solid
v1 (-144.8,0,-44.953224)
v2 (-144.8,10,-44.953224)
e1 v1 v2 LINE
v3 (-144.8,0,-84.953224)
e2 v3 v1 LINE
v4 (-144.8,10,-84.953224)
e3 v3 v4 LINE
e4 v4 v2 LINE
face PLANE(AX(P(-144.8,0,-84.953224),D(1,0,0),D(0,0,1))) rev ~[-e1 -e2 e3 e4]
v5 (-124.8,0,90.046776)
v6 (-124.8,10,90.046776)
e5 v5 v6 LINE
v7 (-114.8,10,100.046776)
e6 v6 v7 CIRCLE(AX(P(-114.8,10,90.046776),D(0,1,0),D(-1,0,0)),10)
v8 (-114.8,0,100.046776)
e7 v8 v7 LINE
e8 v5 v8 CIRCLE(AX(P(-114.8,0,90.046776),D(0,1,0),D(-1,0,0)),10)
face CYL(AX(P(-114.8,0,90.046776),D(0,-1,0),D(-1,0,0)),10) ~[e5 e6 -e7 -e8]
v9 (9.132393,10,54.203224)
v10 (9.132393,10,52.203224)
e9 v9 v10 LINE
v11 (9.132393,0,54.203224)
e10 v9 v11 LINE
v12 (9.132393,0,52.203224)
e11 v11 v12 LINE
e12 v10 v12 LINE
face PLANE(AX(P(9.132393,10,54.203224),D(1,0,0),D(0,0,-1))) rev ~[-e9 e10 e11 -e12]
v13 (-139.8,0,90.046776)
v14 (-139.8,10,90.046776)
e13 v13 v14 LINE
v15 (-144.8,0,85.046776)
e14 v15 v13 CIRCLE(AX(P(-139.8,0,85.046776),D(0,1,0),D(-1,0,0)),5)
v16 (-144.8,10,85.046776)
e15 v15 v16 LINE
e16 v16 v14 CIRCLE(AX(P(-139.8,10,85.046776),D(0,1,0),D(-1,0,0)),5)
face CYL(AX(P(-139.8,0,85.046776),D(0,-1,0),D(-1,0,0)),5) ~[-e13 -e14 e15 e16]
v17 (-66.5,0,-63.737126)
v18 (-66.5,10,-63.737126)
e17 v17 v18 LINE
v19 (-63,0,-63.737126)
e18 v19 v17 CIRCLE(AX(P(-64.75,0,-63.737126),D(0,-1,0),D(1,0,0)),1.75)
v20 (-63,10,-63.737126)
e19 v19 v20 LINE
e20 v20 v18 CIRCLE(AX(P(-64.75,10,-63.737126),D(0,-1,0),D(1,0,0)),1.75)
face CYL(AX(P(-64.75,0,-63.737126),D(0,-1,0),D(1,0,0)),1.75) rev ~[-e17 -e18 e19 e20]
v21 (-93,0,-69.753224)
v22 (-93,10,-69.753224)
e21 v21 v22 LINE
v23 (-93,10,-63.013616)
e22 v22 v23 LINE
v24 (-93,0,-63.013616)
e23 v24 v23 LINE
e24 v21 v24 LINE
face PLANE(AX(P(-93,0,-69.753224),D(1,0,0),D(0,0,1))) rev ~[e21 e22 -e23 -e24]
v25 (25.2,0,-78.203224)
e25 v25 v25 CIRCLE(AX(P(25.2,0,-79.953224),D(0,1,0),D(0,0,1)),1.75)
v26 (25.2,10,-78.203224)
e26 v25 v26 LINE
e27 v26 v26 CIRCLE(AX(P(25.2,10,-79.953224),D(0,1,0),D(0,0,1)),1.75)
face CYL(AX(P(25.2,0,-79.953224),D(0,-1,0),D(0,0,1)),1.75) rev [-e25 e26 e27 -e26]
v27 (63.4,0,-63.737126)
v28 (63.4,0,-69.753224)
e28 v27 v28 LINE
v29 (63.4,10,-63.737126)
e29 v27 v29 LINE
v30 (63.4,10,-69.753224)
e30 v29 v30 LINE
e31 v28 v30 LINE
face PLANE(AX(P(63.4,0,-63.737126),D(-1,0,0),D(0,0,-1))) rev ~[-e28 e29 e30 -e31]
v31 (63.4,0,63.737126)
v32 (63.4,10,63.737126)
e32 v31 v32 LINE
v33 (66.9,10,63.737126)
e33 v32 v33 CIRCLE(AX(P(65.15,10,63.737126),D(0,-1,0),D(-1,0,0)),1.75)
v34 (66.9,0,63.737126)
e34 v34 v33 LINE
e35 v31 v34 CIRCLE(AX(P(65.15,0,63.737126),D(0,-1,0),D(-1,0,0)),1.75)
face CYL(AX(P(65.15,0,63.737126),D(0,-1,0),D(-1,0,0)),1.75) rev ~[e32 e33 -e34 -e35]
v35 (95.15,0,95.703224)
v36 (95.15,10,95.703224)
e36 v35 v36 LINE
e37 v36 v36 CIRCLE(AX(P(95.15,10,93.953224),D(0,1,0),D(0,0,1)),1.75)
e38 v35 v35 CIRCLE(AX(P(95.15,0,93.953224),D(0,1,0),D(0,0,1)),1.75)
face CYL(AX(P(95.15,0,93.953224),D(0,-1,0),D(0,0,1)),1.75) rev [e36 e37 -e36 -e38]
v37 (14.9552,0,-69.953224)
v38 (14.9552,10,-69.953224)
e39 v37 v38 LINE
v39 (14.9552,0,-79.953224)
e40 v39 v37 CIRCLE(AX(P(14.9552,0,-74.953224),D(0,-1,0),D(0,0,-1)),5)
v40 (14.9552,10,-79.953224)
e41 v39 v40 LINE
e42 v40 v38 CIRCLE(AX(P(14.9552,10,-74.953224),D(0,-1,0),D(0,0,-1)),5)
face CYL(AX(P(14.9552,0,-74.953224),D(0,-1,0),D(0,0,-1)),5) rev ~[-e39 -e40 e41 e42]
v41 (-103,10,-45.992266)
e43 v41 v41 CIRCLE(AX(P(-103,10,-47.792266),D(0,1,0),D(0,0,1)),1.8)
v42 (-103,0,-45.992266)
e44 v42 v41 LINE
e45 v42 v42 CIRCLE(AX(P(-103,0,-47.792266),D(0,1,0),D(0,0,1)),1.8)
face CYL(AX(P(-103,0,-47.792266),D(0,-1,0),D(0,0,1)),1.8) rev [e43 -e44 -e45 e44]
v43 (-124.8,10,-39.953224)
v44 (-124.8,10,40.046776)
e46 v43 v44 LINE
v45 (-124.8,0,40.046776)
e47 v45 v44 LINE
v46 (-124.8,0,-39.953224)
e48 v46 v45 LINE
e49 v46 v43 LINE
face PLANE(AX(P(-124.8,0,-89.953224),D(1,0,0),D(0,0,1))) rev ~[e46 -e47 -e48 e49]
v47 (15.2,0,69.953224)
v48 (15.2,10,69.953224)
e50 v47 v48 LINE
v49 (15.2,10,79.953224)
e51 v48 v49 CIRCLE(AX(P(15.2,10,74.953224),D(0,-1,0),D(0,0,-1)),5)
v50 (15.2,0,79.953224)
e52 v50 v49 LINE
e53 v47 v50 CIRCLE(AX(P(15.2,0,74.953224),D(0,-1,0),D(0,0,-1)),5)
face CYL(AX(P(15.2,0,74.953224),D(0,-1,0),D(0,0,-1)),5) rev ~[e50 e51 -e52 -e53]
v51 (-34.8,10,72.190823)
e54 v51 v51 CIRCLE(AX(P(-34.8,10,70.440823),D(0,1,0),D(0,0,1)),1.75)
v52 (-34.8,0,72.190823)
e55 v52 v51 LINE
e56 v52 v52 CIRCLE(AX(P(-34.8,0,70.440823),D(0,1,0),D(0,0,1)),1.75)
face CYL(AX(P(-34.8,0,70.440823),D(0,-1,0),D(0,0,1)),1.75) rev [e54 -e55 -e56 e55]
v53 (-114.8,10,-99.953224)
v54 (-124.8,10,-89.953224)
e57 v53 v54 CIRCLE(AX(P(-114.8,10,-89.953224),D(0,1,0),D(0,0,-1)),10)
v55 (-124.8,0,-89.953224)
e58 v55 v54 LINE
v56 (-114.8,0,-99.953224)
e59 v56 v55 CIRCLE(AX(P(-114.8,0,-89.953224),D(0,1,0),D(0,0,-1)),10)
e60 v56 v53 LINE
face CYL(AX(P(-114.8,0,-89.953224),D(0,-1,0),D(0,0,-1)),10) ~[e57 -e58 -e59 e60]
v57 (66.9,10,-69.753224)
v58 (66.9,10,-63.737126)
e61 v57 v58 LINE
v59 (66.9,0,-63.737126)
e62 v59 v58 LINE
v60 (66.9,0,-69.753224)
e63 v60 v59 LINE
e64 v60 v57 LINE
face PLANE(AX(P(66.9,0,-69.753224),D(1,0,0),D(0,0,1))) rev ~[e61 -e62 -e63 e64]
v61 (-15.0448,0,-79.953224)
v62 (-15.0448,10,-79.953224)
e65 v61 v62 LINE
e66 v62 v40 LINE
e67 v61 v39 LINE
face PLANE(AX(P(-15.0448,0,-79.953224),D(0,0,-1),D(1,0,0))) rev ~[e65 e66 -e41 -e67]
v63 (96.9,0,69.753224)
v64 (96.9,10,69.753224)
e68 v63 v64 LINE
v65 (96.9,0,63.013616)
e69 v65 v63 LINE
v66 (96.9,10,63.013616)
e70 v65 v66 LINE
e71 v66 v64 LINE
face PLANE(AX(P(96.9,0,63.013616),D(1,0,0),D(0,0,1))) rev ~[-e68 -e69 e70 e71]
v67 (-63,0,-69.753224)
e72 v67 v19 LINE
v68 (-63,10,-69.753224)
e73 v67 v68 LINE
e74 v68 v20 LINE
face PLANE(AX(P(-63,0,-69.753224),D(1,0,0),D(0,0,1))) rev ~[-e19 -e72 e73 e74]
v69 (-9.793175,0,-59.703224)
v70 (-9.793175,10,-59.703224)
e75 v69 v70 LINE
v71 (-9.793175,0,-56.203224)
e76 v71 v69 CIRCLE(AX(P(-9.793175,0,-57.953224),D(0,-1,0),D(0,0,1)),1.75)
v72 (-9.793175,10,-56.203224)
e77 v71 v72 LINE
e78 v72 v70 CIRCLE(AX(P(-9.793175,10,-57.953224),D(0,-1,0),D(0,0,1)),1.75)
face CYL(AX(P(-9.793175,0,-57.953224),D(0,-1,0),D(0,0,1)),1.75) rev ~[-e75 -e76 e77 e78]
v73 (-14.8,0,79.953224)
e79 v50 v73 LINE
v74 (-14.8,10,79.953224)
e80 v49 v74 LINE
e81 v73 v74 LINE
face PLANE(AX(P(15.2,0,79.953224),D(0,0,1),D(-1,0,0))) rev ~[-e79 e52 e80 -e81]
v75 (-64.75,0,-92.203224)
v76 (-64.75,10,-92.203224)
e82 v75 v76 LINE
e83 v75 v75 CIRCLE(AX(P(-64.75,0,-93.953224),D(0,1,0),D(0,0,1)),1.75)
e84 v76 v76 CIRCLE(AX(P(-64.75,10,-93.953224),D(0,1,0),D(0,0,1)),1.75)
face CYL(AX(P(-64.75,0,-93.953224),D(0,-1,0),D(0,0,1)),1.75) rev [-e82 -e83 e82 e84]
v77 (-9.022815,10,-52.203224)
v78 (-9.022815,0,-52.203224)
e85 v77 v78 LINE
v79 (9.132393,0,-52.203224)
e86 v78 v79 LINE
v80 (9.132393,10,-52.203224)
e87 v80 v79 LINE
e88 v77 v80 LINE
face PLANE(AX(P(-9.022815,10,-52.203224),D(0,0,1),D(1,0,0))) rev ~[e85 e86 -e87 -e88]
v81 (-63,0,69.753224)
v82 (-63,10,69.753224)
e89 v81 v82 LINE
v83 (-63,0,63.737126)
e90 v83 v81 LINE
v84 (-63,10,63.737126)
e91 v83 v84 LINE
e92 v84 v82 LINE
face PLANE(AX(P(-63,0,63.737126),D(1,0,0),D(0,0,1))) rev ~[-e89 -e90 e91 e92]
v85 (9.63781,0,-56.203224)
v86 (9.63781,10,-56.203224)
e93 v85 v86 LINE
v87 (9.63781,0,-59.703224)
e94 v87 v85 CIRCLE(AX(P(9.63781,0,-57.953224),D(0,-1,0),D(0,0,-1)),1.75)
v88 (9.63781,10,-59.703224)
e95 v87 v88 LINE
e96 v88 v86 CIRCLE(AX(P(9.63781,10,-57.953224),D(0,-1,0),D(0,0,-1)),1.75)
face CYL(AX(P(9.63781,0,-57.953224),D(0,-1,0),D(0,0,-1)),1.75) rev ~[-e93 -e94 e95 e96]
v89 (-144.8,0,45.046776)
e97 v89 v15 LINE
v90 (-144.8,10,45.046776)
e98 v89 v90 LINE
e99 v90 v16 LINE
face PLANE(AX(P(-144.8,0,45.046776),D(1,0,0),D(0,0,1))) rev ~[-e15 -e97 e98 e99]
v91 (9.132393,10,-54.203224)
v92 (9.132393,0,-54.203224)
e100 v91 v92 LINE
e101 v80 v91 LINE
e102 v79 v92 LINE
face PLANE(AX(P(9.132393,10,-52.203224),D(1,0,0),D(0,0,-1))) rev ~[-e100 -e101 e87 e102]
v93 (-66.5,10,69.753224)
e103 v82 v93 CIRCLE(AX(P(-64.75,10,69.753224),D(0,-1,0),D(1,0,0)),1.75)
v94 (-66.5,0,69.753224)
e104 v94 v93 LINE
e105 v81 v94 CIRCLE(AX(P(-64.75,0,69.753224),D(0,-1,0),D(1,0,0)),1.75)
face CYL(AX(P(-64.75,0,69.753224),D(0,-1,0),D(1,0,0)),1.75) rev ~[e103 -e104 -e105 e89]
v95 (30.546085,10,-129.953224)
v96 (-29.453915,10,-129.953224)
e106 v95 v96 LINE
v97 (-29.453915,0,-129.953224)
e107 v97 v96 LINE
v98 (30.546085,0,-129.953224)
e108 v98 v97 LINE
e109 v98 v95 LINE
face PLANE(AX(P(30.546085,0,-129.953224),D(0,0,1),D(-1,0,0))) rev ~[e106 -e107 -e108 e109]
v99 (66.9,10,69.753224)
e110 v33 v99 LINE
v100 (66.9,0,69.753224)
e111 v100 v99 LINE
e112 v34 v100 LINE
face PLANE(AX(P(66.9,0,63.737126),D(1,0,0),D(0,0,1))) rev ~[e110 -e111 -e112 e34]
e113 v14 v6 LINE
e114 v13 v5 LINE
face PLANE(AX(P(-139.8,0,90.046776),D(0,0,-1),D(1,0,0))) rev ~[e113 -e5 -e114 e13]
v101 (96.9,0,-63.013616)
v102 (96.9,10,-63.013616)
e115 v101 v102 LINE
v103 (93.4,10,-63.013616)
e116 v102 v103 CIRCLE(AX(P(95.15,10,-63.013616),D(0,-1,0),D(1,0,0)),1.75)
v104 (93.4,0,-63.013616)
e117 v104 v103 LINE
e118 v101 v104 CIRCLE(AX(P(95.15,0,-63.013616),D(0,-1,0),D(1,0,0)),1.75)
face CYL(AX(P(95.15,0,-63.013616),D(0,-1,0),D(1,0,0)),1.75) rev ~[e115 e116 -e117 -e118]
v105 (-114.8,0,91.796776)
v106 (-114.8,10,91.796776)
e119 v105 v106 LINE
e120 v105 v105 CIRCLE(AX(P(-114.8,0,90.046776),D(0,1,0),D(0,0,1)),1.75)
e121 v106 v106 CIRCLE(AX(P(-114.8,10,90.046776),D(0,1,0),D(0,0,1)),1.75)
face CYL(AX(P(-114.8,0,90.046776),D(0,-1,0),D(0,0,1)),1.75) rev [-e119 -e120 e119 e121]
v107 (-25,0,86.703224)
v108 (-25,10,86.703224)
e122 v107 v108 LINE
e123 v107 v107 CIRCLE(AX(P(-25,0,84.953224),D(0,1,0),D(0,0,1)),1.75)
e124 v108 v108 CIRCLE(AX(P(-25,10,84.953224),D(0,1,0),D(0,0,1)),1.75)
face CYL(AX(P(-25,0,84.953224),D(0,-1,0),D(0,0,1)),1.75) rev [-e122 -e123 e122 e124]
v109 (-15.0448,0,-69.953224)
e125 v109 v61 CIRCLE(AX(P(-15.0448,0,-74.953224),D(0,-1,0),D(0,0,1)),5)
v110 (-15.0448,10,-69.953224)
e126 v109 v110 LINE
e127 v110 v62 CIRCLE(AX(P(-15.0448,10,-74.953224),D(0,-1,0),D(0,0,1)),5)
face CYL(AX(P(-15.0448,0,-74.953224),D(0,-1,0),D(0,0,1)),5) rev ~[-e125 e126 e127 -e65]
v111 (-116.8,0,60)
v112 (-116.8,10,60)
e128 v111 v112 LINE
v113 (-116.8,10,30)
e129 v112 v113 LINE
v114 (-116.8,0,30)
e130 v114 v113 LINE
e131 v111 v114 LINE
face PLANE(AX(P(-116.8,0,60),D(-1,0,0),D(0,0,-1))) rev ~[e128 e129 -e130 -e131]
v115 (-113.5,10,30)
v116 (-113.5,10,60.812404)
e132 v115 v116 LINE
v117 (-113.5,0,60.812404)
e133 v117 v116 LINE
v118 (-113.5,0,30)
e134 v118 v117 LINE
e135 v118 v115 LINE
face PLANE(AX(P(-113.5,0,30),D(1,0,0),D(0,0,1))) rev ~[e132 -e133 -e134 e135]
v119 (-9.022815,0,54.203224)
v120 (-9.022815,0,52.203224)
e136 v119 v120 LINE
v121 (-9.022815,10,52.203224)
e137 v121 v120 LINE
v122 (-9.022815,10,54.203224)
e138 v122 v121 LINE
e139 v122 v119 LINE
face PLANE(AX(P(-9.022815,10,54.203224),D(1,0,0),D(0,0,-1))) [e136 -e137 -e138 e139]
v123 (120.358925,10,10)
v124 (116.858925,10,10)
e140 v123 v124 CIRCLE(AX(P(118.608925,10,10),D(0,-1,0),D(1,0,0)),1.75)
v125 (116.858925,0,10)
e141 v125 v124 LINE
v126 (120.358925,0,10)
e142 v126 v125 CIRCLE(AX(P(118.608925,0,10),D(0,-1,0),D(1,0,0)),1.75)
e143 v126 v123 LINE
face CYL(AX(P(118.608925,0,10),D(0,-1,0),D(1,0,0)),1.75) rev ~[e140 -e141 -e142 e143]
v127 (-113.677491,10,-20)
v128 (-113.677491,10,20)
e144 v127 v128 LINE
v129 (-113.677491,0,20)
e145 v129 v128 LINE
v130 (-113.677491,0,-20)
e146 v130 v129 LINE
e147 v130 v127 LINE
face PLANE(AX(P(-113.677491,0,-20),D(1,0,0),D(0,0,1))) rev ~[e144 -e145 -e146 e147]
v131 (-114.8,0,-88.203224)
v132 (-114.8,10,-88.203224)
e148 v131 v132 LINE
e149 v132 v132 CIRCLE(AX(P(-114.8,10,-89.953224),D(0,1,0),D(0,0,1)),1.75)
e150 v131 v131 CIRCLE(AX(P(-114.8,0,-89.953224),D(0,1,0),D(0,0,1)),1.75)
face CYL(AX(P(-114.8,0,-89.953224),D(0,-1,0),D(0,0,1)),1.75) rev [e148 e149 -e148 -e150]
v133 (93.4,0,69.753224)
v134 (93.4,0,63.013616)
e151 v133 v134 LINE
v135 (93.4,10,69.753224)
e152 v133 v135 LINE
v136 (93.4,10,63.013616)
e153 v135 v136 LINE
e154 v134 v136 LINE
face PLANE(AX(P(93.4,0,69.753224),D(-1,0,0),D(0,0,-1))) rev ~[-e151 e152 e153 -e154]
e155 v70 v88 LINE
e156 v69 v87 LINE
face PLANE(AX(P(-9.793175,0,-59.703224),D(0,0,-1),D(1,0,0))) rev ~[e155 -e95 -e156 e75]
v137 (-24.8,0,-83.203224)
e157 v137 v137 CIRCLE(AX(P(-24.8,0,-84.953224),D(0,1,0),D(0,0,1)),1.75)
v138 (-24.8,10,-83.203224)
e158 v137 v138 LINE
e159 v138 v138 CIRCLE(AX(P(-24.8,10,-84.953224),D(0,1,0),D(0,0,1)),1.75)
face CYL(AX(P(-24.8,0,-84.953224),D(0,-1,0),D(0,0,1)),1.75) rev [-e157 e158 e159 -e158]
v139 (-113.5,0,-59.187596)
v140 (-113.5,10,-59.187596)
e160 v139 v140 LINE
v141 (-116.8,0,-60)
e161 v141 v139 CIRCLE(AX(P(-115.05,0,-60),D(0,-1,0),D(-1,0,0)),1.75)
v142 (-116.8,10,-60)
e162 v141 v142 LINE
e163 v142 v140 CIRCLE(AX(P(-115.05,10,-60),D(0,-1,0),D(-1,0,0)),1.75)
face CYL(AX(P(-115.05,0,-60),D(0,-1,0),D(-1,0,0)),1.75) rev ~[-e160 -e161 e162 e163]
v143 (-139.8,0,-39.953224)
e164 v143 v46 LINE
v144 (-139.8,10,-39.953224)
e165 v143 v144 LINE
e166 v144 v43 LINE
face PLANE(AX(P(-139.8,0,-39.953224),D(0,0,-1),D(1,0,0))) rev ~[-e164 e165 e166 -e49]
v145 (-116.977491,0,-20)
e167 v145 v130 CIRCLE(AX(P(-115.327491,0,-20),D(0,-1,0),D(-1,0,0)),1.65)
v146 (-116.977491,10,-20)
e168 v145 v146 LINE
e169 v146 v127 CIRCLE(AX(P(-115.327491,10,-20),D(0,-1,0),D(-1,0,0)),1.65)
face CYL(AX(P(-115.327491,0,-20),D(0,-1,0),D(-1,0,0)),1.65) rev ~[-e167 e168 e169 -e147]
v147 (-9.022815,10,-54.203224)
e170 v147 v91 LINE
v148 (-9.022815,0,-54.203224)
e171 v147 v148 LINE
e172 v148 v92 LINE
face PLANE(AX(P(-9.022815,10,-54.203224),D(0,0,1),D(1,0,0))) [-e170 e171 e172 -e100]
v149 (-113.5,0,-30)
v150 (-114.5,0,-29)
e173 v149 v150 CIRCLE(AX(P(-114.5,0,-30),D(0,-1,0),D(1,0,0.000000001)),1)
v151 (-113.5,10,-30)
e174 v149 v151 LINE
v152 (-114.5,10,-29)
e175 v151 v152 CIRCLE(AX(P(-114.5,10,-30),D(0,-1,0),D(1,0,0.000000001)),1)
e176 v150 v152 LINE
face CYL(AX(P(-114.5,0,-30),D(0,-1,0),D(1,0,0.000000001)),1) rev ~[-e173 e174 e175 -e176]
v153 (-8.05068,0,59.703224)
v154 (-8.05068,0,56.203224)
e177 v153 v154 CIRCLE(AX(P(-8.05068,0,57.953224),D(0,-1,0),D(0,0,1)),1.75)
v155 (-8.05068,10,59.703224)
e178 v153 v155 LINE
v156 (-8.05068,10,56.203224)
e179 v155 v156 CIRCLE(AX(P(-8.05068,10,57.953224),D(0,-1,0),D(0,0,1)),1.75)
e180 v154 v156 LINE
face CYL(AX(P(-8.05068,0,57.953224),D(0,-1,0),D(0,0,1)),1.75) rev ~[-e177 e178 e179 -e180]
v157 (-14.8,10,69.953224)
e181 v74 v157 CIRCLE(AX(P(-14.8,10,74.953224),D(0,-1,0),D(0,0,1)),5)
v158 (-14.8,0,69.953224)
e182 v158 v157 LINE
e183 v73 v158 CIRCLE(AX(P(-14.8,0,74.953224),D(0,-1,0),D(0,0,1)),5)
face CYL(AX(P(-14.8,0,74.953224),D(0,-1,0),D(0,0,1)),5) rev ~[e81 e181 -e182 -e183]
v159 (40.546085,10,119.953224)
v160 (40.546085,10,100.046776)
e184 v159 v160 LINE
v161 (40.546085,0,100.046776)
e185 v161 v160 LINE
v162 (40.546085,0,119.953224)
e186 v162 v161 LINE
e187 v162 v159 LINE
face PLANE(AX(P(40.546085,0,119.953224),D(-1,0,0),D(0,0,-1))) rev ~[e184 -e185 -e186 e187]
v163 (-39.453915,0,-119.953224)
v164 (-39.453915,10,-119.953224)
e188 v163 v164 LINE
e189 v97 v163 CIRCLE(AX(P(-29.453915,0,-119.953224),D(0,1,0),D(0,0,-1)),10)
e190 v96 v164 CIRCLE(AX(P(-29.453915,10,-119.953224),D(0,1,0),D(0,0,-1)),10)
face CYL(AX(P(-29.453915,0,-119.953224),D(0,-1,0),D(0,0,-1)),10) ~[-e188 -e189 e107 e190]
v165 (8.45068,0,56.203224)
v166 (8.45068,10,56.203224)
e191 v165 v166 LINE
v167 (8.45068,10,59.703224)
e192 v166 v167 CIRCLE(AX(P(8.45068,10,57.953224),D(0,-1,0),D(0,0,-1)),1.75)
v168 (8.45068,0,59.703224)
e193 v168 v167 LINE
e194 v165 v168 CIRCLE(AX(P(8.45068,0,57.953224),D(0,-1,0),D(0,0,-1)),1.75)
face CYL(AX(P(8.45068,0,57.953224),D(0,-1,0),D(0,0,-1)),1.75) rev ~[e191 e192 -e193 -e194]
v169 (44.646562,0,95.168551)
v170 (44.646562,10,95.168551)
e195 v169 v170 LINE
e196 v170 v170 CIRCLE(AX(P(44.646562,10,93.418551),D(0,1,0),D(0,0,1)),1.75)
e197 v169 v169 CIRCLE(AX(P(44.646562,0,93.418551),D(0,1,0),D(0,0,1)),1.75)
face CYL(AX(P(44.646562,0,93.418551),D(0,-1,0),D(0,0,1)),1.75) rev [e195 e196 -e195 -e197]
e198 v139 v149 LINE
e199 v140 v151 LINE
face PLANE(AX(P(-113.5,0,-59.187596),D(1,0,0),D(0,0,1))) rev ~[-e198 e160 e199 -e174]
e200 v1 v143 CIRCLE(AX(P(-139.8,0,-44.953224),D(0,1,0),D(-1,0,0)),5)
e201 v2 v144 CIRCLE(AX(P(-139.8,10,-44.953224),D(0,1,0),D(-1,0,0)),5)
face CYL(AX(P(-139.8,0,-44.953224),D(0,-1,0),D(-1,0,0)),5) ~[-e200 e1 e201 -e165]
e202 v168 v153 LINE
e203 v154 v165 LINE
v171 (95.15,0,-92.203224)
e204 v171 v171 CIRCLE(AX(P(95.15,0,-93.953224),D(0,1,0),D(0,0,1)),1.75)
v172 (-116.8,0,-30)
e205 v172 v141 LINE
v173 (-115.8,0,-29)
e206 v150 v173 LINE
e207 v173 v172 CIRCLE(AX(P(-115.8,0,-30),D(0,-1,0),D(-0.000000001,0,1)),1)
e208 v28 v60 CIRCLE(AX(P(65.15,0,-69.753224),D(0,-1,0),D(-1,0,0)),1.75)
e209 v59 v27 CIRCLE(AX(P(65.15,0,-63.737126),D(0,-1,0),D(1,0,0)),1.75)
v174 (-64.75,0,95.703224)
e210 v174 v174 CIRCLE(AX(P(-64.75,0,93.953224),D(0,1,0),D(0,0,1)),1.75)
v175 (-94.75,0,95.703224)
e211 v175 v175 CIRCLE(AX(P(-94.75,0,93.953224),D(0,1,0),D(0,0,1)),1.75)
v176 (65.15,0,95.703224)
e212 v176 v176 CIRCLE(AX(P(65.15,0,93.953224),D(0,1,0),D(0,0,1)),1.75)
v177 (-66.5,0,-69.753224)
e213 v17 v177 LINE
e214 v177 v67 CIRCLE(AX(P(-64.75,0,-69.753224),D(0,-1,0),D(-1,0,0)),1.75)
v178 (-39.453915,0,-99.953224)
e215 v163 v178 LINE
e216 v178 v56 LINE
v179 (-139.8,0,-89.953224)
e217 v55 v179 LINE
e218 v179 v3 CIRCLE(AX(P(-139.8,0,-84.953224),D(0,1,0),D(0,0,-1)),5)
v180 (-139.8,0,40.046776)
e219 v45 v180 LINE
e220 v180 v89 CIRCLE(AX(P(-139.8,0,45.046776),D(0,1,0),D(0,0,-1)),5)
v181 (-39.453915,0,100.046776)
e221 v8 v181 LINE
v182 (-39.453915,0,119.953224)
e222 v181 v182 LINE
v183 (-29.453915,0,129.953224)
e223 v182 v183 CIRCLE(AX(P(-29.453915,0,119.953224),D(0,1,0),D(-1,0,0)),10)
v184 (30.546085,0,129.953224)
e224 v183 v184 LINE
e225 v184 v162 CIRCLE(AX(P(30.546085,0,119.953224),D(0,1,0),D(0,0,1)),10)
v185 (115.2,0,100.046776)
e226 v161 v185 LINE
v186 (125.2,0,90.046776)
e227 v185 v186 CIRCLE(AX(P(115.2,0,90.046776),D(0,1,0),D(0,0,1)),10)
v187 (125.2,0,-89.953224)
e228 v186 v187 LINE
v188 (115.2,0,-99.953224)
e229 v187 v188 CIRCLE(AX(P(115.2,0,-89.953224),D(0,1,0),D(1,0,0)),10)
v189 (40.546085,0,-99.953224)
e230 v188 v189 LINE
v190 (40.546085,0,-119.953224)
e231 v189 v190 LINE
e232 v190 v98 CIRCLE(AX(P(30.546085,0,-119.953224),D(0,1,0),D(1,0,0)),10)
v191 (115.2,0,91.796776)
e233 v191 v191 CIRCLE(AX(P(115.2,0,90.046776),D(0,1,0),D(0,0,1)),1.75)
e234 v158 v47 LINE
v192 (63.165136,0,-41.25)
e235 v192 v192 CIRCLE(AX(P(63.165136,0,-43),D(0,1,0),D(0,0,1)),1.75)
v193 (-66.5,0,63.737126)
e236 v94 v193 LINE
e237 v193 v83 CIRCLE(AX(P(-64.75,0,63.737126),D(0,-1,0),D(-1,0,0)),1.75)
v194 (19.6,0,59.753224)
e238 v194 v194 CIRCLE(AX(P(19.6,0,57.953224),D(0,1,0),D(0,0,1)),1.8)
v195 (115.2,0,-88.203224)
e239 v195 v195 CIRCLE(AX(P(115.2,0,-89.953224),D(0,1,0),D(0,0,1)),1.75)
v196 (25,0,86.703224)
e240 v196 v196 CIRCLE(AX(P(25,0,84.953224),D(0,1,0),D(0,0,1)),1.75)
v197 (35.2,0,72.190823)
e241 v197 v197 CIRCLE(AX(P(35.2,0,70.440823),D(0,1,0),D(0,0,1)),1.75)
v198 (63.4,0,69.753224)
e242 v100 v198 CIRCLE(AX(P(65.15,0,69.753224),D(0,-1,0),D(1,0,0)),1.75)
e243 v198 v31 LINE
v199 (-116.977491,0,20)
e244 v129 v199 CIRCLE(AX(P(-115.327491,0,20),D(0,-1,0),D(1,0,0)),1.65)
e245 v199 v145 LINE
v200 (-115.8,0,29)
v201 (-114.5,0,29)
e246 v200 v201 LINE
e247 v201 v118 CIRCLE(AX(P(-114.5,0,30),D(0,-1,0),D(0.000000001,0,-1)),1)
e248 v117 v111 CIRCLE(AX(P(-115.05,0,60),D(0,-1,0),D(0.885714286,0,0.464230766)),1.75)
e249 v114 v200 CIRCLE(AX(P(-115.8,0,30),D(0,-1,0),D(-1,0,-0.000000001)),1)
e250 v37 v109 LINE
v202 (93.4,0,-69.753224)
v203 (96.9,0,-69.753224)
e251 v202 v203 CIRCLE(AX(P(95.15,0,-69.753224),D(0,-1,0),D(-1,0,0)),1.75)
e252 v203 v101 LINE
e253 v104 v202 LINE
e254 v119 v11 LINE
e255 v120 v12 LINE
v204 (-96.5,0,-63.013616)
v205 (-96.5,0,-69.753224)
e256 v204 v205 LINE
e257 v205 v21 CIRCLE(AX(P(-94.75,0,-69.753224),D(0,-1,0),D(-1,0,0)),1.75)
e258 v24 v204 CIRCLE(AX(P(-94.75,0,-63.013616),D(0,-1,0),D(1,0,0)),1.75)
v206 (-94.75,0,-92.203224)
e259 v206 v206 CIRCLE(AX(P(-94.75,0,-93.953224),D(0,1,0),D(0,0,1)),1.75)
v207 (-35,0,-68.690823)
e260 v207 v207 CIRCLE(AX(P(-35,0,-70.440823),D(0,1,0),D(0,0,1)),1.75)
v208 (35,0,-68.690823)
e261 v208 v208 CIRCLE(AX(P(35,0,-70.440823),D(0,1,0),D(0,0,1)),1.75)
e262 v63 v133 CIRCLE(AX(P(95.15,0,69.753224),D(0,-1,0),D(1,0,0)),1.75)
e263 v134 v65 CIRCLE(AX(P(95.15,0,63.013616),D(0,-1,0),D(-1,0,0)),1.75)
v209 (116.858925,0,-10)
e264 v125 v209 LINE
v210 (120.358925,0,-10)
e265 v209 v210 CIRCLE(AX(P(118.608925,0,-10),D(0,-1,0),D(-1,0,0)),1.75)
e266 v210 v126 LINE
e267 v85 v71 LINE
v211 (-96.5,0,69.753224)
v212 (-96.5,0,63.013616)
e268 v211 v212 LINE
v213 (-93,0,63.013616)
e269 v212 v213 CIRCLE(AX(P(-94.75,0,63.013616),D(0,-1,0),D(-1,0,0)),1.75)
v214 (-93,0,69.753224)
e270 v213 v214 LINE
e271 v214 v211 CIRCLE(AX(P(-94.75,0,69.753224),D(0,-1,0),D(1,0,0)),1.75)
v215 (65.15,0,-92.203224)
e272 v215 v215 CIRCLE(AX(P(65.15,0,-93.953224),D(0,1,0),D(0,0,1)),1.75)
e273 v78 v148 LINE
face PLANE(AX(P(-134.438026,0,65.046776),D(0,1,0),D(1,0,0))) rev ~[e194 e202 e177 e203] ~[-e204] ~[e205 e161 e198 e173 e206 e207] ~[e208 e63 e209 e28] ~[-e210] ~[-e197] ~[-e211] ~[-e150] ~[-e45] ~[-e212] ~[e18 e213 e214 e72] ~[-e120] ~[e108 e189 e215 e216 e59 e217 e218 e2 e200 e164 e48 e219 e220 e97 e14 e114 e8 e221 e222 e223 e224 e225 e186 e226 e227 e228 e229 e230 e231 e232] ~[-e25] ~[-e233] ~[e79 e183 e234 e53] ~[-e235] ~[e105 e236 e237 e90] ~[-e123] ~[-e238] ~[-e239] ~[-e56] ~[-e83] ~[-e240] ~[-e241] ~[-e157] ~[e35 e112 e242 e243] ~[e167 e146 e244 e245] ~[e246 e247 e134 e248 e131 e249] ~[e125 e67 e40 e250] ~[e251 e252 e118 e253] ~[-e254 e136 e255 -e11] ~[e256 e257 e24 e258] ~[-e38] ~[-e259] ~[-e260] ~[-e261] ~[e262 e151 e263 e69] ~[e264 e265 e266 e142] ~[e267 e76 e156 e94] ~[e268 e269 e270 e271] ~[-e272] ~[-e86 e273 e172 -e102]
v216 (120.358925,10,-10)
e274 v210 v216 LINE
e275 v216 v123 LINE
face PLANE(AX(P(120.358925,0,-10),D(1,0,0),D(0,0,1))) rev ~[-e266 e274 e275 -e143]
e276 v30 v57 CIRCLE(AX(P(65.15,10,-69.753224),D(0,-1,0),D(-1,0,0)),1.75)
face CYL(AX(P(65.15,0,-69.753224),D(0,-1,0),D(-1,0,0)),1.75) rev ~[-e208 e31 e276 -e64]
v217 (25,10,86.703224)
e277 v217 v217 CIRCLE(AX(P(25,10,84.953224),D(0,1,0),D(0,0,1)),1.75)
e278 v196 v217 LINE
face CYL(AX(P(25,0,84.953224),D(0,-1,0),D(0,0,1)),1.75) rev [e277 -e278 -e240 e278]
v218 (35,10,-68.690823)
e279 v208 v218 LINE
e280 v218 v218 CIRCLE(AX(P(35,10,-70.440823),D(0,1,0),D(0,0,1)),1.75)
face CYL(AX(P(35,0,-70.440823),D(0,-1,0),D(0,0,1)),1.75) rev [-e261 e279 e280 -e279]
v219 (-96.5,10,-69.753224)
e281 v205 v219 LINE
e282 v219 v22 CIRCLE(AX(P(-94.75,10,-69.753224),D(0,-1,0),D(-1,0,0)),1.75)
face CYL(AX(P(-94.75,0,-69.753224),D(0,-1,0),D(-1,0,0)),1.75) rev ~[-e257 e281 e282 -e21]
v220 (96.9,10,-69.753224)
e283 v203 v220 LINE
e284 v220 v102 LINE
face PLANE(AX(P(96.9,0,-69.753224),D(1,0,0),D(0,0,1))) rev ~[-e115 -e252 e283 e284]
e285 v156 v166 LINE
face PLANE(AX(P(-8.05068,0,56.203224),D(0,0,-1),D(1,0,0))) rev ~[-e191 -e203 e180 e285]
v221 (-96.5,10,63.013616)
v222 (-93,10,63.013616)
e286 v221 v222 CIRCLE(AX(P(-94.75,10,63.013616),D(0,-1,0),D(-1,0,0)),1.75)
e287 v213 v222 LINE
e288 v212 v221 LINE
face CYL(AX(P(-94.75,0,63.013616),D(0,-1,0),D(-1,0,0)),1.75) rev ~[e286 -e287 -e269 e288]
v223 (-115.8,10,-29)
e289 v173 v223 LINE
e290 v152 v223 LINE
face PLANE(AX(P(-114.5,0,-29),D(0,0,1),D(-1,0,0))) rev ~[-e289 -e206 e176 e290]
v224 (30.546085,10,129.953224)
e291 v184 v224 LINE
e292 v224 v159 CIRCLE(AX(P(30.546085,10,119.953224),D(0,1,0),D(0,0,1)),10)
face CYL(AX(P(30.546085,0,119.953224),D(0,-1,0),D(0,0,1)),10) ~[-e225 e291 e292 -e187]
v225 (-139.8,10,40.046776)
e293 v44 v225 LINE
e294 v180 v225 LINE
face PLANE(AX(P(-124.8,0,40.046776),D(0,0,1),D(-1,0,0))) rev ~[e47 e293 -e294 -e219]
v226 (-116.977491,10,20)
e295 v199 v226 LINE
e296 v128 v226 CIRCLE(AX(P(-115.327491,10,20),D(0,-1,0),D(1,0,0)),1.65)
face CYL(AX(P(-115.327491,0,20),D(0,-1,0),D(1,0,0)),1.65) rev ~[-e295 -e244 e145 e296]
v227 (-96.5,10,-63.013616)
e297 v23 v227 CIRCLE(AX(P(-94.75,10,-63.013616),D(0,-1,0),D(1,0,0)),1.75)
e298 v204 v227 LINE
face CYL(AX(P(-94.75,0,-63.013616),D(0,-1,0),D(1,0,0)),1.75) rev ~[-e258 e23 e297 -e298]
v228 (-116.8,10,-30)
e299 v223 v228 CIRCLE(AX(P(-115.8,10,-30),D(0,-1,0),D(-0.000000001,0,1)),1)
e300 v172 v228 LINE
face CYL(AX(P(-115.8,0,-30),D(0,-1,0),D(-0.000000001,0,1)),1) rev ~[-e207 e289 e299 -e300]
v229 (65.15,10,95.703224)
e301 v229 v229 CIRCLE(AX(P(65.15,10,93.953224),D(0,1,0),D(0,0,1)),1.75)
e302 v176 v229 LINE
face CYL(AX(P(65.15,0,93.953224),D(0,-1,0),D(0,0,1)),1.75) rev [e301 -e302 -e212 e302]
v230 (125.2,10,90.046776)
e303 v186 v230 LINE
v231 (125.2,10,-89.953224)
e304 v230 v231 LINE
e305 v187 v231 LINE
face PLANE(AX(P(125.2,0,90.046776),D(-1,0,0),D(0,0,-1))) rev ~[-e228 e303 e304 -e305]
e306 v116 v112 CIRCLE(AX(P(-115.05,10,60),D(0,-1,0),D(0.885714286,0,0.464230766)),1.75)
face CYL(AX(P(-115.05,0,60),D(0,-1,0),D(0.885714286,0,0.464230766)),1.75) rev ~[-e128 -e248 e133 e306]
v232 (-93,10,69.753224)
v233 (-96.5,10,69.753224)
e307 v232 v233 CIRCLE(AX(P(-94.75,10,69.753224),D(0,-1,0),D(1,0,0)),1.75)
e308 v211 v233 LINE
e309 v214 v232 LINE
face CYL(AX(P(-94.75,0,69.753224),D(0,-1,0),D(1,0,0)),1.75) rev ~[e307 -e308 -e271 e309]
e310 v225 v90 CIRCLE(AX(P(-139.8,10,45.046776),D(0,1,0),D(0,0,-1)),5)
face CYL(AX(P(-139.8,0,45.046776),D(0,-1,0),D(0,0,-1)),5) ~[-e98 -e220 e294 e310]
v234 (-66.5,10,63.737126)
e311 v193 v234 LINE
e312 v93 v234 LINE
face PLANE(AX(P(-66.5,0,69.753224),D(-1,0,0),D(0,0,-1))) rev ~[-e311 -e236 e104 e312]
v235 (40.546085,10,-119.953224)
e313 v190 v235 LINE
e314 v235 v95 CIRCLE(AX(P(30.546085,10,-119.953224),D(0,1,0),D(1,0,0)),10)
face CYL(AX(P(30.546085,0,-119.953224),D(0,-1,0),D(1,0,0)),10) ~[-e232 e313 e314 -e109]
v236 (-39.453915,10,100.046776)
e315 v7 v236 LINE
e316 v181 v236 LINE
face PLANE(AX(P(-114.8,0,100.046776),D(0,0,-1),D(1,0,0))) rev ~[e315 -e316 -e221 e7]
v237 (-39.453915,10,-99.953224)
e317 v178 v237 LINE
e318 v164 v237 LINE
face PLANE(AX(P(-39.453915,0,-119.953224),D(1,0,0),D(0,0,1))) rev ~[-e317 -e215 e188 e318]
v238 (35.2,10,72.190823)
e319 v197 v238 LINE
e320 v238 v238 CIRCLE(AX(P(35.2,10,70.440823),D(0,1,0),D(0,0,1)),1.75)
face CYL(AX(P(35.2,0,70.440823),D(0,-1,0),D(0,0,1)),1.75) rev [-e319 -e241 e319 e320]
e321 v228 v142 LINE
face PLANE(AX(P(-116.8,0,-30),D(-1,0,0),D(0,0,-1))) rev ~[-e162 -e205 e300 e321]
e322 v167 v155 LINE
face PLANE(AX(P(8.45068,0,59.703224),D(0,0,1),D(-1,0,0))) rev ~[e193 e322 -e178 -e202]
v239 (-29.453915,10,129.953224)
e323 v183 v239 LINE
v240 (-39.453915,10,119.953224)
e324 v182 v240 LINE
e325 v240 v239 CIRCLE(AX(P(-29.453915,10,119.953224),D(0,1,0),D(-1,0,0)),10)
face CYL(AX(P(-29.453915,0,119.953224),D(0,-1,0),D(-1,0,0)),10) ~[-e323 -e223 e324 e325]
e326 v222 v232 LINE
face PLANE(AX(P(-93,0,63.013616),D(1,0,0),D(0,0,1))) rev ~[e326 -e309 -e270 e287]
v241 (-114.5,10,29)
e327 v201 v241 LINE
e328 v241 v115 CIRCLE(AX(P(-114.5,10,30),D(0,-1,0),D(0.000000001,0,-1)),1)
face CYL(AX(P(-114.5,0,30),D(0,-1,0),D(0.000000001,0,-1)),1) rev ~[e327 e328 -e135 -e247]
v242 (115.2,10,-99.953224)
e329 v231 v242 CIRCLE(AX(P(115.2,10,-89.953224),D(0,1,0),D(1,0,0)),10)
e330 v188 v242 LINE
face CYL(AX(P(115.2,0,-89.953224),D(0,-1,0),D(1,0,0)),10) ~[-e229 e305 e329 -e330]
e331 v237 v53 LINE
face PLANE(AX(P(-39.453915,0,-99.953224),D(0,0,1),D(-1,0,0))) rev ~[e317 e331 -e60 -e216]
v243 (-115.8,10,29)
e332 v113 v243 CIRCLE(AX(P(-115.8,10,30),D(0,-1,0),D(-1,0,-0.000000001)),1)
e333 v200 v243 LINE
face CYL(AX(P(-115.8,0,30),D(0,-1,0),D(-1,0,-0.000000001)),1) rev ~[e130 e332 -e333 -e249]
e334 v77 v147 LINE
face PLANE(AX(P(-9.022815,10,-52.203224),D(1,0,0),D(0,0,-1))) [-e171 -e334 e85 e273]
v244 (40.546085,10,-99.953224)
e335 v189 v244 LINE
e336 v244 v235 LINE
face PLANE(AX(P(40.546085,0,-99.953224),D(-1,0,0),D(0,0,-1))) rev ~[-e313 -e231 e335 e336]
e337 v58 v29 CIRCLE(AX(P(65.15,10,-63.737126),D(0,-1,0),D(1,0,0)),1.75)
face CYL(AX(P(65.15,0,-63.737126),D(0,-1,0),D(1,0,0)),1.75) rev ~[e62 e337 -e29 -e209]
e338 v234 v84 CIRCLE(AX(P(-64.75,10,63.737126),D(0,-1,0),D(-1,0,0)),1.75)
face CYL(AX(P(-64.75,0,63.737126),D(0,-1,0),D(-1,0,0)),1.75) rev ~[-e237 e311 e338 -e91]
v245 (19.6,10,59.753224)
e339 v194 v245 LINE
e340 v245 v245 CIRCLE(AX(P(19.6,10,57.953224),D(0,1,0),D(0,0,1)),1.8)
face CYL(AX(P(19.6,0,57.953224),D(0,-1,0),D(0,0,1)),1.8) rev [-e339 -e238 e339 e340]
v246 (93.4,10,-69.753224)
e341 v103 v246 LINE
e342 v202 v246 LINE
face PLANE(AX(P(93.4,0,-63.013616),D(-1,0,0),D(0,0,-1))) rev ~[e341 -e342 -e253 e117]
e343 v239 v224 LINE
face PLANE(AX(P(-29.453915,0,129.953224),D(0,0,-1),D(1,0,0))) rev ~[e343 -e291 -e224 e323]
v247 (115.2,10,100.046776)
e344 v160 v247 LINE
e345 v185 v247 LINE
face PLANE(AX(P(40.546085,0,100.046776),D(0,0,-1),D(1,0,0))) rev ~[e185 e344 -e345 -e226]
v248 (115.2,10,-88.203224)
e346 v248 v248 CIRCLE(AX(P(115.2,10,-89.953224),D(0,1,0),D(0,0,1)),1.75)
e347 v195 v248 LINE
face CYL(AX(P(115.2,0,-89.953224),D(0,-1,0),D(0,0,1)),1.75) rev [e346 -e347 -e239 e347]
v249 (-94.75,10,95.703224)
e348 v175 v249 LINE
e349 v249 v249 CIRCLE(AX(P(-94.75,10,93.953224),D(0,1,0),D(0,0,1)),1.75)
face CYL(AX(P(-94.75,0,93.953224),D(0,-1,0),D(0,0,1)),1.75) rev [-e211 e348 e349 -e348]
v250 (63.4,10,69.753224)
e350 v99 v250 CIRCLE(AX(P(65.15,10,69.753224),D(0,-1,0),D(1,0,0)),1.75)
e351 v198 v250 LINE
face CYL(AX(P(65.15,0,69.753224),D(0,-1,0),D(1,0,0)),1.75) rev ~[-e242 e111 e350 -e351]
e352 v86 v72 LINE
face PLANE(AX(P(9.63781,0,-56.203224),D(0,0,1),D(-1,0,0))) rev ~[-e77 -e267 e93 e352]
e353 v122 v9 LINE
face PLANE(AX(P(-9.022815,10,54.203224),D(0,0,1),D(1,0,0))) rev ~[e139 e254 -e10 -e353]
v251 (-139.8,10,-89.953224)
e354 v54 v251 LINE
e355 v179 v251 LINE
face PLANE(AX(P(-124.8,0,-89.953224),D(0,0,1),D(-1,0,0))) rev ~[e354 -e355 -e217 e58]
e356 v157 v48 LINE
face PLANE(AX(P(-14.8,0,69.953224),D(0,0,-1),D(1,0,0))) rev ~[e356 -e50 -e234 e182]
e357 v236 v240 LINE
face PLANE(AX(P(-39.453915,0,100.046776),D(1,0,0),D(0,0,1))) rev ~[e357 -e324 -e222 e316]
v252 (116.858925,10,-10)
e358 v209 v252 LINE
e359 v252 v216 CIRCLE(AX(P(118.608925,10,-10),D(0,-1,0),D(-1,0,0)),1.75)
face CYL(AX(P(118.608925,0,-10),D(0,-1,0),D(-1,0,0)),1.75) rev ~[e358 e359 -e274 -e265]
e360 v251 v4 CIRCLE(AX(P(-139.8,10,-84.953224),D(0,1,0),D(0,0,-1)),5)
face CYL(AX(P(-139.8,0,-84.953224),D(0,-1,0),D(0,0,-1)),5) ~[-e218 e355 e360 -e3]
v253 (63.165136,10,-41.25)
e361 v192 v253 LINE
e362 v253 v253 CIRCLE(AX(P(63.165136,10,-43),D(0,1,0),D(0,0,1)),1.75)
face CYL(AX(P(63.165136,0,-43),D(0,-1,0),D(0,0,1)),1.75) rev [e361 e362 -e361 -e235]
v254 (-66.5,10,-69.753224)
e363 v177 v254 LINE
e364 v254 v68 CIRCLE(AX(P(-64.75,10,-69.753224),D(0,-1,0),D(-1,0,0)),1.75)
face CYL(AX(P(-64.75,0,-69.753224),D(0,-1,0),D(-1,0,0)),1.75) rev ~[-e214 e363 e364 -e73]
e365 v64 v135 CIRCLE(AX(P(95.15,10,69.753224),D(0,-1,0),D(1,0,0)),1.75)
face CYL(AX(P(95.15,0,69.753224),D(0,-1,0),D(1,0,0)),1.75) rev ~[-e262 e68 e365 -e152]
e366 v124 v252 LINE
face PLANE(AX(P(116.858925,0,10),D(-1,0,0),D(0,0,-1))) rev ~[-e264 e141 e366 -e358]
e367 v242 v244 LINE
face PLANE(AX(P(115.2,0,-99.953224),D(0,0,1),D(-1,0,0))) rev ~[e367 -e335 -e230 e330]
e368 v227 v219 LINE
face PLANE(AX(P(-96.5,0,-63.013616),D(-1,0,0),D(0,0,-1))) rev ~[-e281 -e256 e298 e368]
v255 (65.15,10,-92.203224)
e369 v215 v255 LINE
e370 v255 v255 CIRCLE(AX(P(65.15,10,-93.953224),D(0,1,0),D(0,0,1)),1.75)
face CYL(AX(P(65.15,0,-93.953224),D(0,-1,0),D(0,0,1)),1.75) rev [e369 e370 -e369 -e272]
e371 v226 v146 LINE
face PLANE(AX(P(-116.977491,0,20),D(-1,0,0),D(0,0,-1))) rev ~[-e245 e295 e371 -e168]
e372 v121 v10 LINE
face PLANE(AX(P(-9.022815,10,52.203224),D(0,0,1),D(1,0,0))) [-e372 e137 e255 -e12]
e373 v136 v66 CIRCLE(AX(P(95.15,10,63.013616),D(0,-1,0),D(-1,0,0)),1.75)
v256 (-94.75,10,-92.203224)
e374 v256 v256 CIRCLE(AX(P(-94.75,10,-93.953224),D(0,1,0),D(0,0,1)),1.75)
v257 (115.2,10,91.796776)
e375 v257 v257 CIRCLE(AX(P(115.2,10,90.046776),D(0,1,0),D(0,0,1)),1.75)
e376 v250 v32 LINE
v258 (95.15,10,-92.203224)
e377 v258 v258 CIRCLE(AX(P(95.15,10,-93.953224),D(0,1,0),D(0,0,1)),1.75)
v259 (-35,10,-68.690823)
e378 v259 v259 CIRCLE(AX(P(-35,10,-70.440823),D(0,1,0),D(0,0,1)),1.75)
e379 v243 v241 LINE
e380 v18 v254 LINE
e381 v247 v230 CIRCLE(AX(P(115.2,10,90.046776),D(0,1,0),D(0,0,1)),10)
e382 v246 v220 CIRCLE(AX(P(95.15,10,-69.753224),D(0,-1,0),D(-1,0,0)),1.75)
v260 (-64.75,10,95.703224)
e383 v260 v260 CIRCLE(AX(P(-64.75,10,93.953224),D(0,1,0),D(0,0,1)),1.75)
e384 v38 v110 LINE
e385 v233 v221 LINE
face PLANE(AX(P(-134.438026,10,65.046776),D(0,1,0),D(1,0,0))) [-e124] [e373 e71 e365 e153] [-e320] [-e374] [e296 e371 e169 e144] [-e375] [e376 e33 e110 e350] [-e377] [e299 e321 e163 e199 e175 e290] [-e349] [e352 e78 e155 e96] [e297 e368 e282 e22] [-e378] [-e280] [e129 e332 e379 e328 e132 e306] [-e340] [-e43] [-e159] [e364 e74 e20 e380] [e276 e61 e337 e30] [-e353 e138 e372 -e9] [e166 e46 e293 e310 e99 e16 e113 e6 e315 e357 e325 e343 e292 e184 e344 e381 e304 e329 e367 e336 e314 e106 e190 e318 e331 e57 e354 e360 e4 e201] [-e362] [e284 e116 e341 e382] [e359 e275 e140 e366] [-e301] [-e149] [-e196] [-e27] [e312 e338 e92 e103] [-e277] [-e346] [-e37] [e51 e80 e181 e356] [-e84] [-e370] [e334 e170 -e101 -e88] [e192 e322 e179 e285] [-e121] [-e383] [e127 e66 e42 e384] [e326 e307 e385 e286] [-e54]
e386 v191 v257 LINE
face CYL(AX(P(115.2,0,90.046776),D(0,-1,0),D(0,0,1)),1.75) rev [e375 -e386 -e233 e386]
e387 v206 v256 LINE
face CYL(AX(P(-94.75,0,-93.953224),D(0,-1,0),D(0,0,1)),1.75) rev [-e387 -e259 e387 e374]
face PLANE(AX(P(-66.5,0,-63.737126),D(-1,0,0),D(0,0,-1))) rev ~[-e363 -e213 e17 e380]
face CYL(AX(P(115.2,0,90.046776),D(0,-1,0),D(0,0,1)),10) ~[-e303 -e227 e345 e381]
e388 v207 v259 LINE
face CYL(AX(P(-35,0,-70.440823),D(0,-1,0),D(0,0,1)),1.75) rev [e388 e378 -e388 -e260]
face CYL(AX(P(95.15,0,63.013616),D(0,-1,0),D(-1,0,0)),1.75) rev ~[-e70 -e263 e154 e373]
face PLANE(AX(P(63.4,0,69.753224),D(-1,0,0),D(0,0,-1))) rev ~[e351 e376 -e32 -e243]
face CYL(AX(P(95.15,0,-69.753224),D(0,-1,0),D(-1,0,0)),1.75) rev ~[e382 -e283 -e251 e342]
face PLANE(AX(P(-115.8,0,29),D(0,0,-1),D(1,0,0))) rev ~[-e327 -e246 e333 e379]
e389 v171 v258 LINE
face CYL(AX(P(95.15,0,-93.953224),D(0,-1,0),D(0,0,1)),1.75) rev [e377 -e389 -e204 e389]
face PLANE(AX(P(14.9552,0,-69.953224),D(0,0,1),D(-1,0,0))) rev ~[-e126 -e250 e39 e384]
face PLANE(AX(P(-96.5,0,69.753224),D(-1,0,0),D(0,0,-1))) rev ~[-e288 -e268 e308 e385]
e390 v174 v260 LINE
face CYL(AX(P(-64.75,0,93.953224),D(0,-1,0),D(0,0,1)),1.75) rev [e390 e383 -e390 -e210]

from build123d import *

# Parameters (mm, degrees)
SKETCH_1_R          = 1.75
SKETCH_1_R_2        = 1.8
EXTRUDE_1_DEPTH     = 10
SKETCH_2_W          = 18.155207679
SKETCH_2_H          = 2
CUT_EXTRUDE_1_DEPTH = 10


with BuildPart() as part:
    # 草图1 → 凸台-拉伸1 (new body)
    # profile 1 of 3: a face of its own
    with BuildSketch(Plane(origin=(0, 0, 0), x_dir=(1, 0, 0), z_dir=(0, 1, 0))):
        with BuildLine():
            Line((-39.453914906, 99.953224422), (-114.8, 99.953224422))
            ThreePointArc((-114.8, 99.953224422), (-121.871067812, 97.024292234), (-124.8, 89.953224422))
            Line((-124.8, 89.953224422), (-124.8, 39.953224422))
            Line((-124.8, 39.953224422), (-124.8, -40.046775578))
            Line((-124.8, -40.046775578), (-124.8, -90.046775578))
            ThreePointArc((-124.8, -90.046775578), (-121.871067812, -97.11784339), (-114.8, -100.046775578))
            Line((-114.8, -100.046775578), (-39.453914906, -100.046775578))
            Line((-39.453914906, -100.046775578), (-39.453914906, -119.953224422))
            ThreePointArc((-39.453914906, -119.953224422), (-36.524982718, -127.024292234), (-29.453914906, -129.953224422))
            Line((-29.453914906, -129.953224422), (30.546085094, -129.953224422))
            ThreePointArc((30.546085094, -129.953224422), (37.617152905, -127.024292234), (40.546085094, -119.953224422))
            Line((40.546085094, -119.953224422), (40.546085094, -100.046775578))
            Line((40.546085094, -100.046775578), (115.2, -100.046775578))
            ThreePointArc((115.2, -100.046775578), (122.271067812, -97.11784339), (125.2, -90.046775578))
            Line((125.2, -90.046775578), (125.2, 89.953224422))
            ThreePointArc((125.2, 89.953224422), (122.271067812, 97.024292234), (115.2, 99.953224422))
            Line((115.2, 99.953224422), (40.546085094, 99.953224422))
            Line((40.546085094, 99.953224422), (40.546085094, 119.953224422))
            ThreePointArc((40.546085094, 119.953224422), (37.617152905, 127.024292234), (30.546085094, 129.953224422))
            Line((30.546085094, 129.953224422), (-29.453914906, 129.953224422))
            ThreePointArc((-29.453914906, 129.953224422), (-36.524982718, 127.024292234), (-39.453914906, 119.953224422))
            Line((-39.453914906, 119.953224422), (-39.453914906, 99.953224422))
        make_face()
        with Locations(Location((-114.8, -90.046775578, 0), (0, 0, 270))):
            Circle(SKETCH_1_R, mode=Mode.SUBTRACT)
        with Locations(Location((-94.75, -93.953224422, 0), (0, 0, 270))):
            Circle(SKETCH_1_R, mode=Mode.SUBTRACT)
        with BuildLine():
            Line((-93, -63.013616334), (-93, -69.753224422))
            ThreePointArc((-93, -69.753224422), (-94.75, -71.503224422), (-96.5, -69.753224422))
            Line((-96.5, -69.753224422), (-96.5, -63.013616334))
            ThreePointArc((-96.5, -63.013616334), (-94.75, -61.263616334), (-93, -63.013616334))
        make_face(mode=Mode.SUBTRACT)
        with Locations(Location((-64.75, -93.953224422, 0), (0, 0, 270))):
            Circle(SKETCH_1_R, mode=Mode.SUBTRACT)
        with BuildLine():
            Line((-63, -63.73712587), (-63, -69.753224422))
            ThreePointArc((-63, -69.753224422), (-64.75, -71.503224422), (-66.5, -69.753224422))
            Line((-66.5, -69.753224422), (-66.5, -63.73712587))
            ThreePointArc((-66.5, -63.73712587), (-64.75, -61.98712587), (-63, -63.73712587))
        make_face(mode=Mode.SUBTRACT)
        with Locations(Location((-25, -84.953224422, 0), (0, 0, 270))):
            Circle(SKETCH_1_R, mode=Mode.SUBTRACT)
        with Locations(Location((-34.8, -70.440823307, 0), (0, 0, 270))):
            Circle(SKETCH_1_R, mode=Mode.SUBTRACT)
        with BuildLine():
            ThreePointArc((-116.8, -30), (-116.507106781, -29.292893219), (-115.8, -29))
            Line((-115.8, -29), (-114.5, -29))
            ThreePointArc((-114.5, -29), (-113.792893219, -29.292893219), (-113.5, -30))
            Line((-113.5, -30), (-113.5, -60.81240384))
            ThreePointArc((-113.5, -60.81240384), (-115.468330013, -61.699264547), (-116.8, -60))
            Line((-116.8, -60), (-116.8, -30))
        make_face(mode=Mode.SUBTRACT)
        with BuildLine():
            Line((15.2, -79.953224422), (-14.8, -79.953224422))
            ThreePointArc((-14.8, -79.953224422), (-19.8, -74.953224422), (-14.8, -69.953224422))
            Line((-14.8, -69.953224422), (15.2, -69.953224422))
            ThreePointArc((15.2, -69.953224422), (20.2, -74.953224422), (15.2, -79.953224422))
        make_face(mode=Mode.SUBTRACT)
        with Locations(Location((25, -84.953224422, 0), (0, 0, 270))):
            Circle(SKETCH_1_R, mode=Mode.SUBTRACT)
        with Locations(Location((44.646562072, -93.418550725, 0), (0, 0, 270))):
            Circle(SKETCH_1_R, mode=Mode.SUBTRACT)
        with Locations(Location((35.2, -70.440823307, 0), (0, 0, 270))):
            Circle(SKETCH_1_R, mode=Mode.SUBTRACT)
        with Locations(Location((65.15, -93.953224422, 0), (0, 0, 270))):
            Circle(SKETCH_1_R, mode=Mode.SUBTRACT)
        with BuildLine():
            ThreePointArc((66.9, -69.753224422), (65.15, -71.503224422), (63.4, -69.753224422))
            Line((63.4, -69.753224422), (63.4, -63.73712587))
            ThreePointArc((63.4, -63.73712587), (65.15, -61.98712587), (66.9, -63.73712587))
            Line((66.9, -63.73712587), (66.9, -69.753224422))
        make_face(mode=Mode.SUBTRACT)
        with Locations(Location((95.15, -93.953224422, 0), (0, 0, 270))):
            Circle(SKETCH_1_R, mode=Mode.SUBTRACT)
        with Locations(Location((115.2, -90.046775578, 0), (0, 0, 270))):
            Circle(SKETCH_1_R, mode=Mode.SUBTRACT)
        with BuildLine():
            ThreePointArc((96.9, -69.753224422), (95.15, -71.503224422), (93.4, -69.753224422))
            Line((93.4, -69.753224422), (93.4, -63.013616334))
            ThreePointArc((93.4, -63.013616334), (95.15, -61.263616334), (96.9, -63.013616334))
            Line((96.9, -63.013616334), (96.9, -69.753224422))
        make_face(mode=Mode.SUBTRACT)
        with BuildLine():
            ThreePointArc((-8.050679844, -59.703224422), (-9.800679844, -57.953224422), (-8.050679844, -56.203224422))
            Line((-8.050679844, -56.203224422), (8.450679844, -56.203224422))
            ThreePointArc((8.450679844, -56.203224422), (10.200679844, -57.953224422), (8.450679844, -59.703224422))
            Line((8.450679844, -59.703224422), (-8.050679844, -59.703224422))
        make_face(mode=Mode.SUBTRACT)
        with Locations(Location((19.6, -57.953224422, 0), (0, 0, 270))):
            Circle(SKETCH_1_R_2, mode=Mode.SUBTRACT)
        with BuildLine():
            ThreePointArc((-116.977491453, 20), (-115.327491453, 21.65), (-113.677491453, 20))
            Line((-113.677491453, 20), (-113.677491453, -20))
            ThreePointArc((-113.677491453, -20), (-115.327491453, -21.65), (-116.977491453, -20))
            Line((-116.977491453, -20), (-116.977491453, 20))
        make_face(mode=Mode.SUBTRACT)
        with BuildLine():
            ThreePointArc((-116.8, 60), (-114.631669987, 61.699264547), (-113.5, 59.18759616))
            Line((-113.5, 59.18759616), (-113.5, 30))
            ThreePointArc((-113.5, 30), (-113.792893219, 29.292893219), (-114.5, 29))
            Line((-114.5, 29), (-115.8, 29))
            ThreePointArc((-115.8, 29), (-116.507106781, 29.292893219), (-116.8, 30))
            Line((-116.8, 30), (-116.8, 60))
        make_face(mode=Mode.SUBTRACT)
        with Locations(Location((-103, 47.79226616, 0), (0, 0, 270))):
            Circle(SKETCH_1_R_2, mode=Mode.SUBTRACT)
        with Locations(Location((-114.8, 89.953224422, 0), (0, 0, 270))):
            Circle(SKETCH_1_R, mode=Mode.SUBTRACT)
        with BuildLine():
            ThreePointArc((-96.5, 69.753224422), (-94.75, 71.503224422), (-93, 69.753224422))
            Line((-93, 69.753224422), (-93, 63.013616334))
            ThreePointArc((-93, 63.013616334), (-94.75, 61.263616334), (-96.5, 63.013616334))
            Line((-96.5, 63.013616334), (-96.5, 69.753224422))
        make_face(mode=Mode.SUBTRACT)
        with Locations(Location((-94.75, 93.953224422, 0), (0, 0, 270))):
            Circle(SKETCH_1_R, mode=Mode.SUBTRACT)
        with BuildLine():
            ThreePointArc((-66.5, 69.753224422), (-64.75, 71.503224422), (-63, 69.753224422))
            Line((-63, 69.753224422), (-63, 63.73712587))
            ThreePointArc((-63, 63.73712587), (-64.75, 61.98712587), (-66.5, 63.73712587))
            Line((-66.5, 63.73712587), (-66.5, 69.753224422))
        make_face(mode=Mode.SUBTRACT)
        with Locations(Location((-64.75, 93.953224422, 0), (0, 0, 270))):
            Circle(SKETCH_1_R, mode=Mode.SUBTRACT)
        with Locations(Location((-35, 70.440823307, 0), (0, 0, 270))):
            Circle(SKETCH_1_R, mode=Mode.SUBTRACT)
        with Locations(Location((-24.8, 84.953224422, 0), (0, 0, 270))):
            Circle(SKETCH_1_R, mode=Mode.SUBTRACT)
        with BuildLine():
            ThreePointArc((-9.793175204, 56.203224422), (-11.543175204, 57.953224422), (-9.793175204, 59.703224422))
            Line((-9.793175204, 59.703224422), (9.637810035, 59.703224422))
            ThreePointArc((9.637810035, 59.703224422), (11.387810035, 57.953224422), (9.637810035, 56.203224422))
            Line((9.637810035, 56.203224422), (-9.793175204, 56.203224422))
        make_face(mode=Mode.SUBTRACT)
        with BuildLine():
            ThreePointArc((116.858925067, 10), (118.608925067, 11.75), (120.358925067, 10))
            Line((120.358925067, 10), (120.358925067, -10))
            ThreePointArc((120.358925067, -10), (118.608925067, -11.75), (116.858925067, -10))
            Line((116.858925067, -10), (116.858925067, 10))
        make_face(mode=Mode.SUBTRACT)
        with Locations(Location((63.165136033, 43, 0), (0, 0, 270))):
            Circle(SKETCH_1_R, mode=Mode.SUBTRACT)
        with BuildLine():
            ThreePointArc((-15.044800423, 69.953224422), (-20.044800423, 74.953224422), (-15.044800423, 79.953224422))
            Line((-15.044800423, 79.953224422), (14.955199577, 79.953224422))
            ThreePointArc((14.955199577, 79.953224422), (19.955199577, 74.953224422), (14.955199577, 69.953224422))
            Line((14.955199577, 69.953224422), (-15.044800423, 69.953224422))
        make_face(mode=Mode.SUBTRACT)
        with Locations(Location((35, 70.440823307, 0), (0, 0, 270))):
            Circle(SKETCH_1_R, mode=Mode.SUBTRACT)
        with Locations(Location((25.2, 79.953224422, 0), (0, 0, 270))):
            Circle(SKETCH_1_R, mode=Mode.SUBTRACT)
        with BuildLine():
            Line((63.4, 63.73712587), (63.4, 69.753224422))
            ThreePointArc((63.4, 69.753224422), (65.15, 71.503224422), (66.9, 69.753224422))
            Line((66.9, 69.753224422), (66.9, 63.73712587))
            ThreePointArc((66.9, 63.73712587), (65.15, 61.98712587), (63.4, 63.73712587))
        make_face(mode=Mode.SUBTRACT)
        with Locations(Location((65.15, 93.953224422, 0), (0, 0, 270))):
            Circle(SKETCH_1_R, mode=Mode.SUBTRACT)
        with BuildLine():
            Line((93.4, 63.013616334), (93.4, 69.753224422))
            ThreePointArc((93.4, 69.753224422), (95.15, 71.503224422), (96.9, 69.753224422))
            Line((96.9, 69.753224422), (96.9, 63.013616334))
            ThreePointArc((96.9, 63.013616334), (95.15, 61.263616334), (93.4, 63.013616334))
        make_face(mode=Mode.SUBTRACT)
        with Locations(Location((95.15, 93.953224422, 0), (0, 0, 270))):
            Circle(SKETCH_1_R, mode=Mode.SUBTRACT)
        with Locations(Location((115.2, 89.953224422, 0), (0, 0, 270))):
            Circle(SKETCH_1_R, mode=Mode.SUBTRACT)
    # profile 2 of 3: a face of its own
    with BuildSketch(Plane(origin=(0, 0, 0), x_dir=(1, 0, 0), z_dir=(0, 1, 0))):
        with BuildLine():
            Line((-124.8, 39.953224422), (-124.8, 89.953224422))
            Line((-124.8, 89.953224422), (-139.8, 89.953224422))
            ThreePointArc((-139.8, 89.953224422), (-143.335533906, 88.488758328), (-144.8, 84.953224422))
            Line((-144.8, 84.953224422), (-144.8, 44.953224422))
            ThreePointArc((-144.8, 44.953224422), (-143.335533906, 41.417690516), (-139.8, 39.953224422))
            Line((-139.8, 39.953224422), (-124.8, 39.953224422))
        make_face()
    # profile 3 of 3: a face of its own
    with BuildSketch(Plane(origin=(0, 0, 0), x_dir=(1, 0, 0), z_dir=(0, 1, 0))):
        with BuildLine():
            Line((-124.8, -90.046775578), (-124.8, -40.046775578))
            Line((-124.8, -40.046775578), (-139.8, -40.046775578))
            ThreePointArc((-139.8, -40.046775578), (-143.335533906, -41.511241672), (-144.8, -45.046775578))
            Line((-144.8, -45.046775578), (-144.8, -85.046775578))
            ThreePointArc((-144.8, -85.046775578), (-143.335533906, -88.582309484), (-139.8, -90.046775578))
            Line((-139.8, -90.046775578), (-124.8, -90.046775578))
        make_face()
    extrude(amount=EXTRUDE_1_DEPTH)

    # 草图2 → 切除-拉伸1 (cut)
    with BuildSketch(Plane(origin=(0, 10, 0), x_dir=(1, 0, 0), z_dir=(0, 1, 0))):
        with Locations((0.054789132, -53.203224422)):
            Rectangle(SKETCH_2_W, SKETCH_2_H)
        with Locations((0.054789132, 53.203224422)):
            Rectangle(SKETCH_2_W, SKETCH_2_H)
    extrude(amount=-CUT_EXTRUDE_1_DEPTH, mode=Mode.SUBTRACT)


solid = part.part
